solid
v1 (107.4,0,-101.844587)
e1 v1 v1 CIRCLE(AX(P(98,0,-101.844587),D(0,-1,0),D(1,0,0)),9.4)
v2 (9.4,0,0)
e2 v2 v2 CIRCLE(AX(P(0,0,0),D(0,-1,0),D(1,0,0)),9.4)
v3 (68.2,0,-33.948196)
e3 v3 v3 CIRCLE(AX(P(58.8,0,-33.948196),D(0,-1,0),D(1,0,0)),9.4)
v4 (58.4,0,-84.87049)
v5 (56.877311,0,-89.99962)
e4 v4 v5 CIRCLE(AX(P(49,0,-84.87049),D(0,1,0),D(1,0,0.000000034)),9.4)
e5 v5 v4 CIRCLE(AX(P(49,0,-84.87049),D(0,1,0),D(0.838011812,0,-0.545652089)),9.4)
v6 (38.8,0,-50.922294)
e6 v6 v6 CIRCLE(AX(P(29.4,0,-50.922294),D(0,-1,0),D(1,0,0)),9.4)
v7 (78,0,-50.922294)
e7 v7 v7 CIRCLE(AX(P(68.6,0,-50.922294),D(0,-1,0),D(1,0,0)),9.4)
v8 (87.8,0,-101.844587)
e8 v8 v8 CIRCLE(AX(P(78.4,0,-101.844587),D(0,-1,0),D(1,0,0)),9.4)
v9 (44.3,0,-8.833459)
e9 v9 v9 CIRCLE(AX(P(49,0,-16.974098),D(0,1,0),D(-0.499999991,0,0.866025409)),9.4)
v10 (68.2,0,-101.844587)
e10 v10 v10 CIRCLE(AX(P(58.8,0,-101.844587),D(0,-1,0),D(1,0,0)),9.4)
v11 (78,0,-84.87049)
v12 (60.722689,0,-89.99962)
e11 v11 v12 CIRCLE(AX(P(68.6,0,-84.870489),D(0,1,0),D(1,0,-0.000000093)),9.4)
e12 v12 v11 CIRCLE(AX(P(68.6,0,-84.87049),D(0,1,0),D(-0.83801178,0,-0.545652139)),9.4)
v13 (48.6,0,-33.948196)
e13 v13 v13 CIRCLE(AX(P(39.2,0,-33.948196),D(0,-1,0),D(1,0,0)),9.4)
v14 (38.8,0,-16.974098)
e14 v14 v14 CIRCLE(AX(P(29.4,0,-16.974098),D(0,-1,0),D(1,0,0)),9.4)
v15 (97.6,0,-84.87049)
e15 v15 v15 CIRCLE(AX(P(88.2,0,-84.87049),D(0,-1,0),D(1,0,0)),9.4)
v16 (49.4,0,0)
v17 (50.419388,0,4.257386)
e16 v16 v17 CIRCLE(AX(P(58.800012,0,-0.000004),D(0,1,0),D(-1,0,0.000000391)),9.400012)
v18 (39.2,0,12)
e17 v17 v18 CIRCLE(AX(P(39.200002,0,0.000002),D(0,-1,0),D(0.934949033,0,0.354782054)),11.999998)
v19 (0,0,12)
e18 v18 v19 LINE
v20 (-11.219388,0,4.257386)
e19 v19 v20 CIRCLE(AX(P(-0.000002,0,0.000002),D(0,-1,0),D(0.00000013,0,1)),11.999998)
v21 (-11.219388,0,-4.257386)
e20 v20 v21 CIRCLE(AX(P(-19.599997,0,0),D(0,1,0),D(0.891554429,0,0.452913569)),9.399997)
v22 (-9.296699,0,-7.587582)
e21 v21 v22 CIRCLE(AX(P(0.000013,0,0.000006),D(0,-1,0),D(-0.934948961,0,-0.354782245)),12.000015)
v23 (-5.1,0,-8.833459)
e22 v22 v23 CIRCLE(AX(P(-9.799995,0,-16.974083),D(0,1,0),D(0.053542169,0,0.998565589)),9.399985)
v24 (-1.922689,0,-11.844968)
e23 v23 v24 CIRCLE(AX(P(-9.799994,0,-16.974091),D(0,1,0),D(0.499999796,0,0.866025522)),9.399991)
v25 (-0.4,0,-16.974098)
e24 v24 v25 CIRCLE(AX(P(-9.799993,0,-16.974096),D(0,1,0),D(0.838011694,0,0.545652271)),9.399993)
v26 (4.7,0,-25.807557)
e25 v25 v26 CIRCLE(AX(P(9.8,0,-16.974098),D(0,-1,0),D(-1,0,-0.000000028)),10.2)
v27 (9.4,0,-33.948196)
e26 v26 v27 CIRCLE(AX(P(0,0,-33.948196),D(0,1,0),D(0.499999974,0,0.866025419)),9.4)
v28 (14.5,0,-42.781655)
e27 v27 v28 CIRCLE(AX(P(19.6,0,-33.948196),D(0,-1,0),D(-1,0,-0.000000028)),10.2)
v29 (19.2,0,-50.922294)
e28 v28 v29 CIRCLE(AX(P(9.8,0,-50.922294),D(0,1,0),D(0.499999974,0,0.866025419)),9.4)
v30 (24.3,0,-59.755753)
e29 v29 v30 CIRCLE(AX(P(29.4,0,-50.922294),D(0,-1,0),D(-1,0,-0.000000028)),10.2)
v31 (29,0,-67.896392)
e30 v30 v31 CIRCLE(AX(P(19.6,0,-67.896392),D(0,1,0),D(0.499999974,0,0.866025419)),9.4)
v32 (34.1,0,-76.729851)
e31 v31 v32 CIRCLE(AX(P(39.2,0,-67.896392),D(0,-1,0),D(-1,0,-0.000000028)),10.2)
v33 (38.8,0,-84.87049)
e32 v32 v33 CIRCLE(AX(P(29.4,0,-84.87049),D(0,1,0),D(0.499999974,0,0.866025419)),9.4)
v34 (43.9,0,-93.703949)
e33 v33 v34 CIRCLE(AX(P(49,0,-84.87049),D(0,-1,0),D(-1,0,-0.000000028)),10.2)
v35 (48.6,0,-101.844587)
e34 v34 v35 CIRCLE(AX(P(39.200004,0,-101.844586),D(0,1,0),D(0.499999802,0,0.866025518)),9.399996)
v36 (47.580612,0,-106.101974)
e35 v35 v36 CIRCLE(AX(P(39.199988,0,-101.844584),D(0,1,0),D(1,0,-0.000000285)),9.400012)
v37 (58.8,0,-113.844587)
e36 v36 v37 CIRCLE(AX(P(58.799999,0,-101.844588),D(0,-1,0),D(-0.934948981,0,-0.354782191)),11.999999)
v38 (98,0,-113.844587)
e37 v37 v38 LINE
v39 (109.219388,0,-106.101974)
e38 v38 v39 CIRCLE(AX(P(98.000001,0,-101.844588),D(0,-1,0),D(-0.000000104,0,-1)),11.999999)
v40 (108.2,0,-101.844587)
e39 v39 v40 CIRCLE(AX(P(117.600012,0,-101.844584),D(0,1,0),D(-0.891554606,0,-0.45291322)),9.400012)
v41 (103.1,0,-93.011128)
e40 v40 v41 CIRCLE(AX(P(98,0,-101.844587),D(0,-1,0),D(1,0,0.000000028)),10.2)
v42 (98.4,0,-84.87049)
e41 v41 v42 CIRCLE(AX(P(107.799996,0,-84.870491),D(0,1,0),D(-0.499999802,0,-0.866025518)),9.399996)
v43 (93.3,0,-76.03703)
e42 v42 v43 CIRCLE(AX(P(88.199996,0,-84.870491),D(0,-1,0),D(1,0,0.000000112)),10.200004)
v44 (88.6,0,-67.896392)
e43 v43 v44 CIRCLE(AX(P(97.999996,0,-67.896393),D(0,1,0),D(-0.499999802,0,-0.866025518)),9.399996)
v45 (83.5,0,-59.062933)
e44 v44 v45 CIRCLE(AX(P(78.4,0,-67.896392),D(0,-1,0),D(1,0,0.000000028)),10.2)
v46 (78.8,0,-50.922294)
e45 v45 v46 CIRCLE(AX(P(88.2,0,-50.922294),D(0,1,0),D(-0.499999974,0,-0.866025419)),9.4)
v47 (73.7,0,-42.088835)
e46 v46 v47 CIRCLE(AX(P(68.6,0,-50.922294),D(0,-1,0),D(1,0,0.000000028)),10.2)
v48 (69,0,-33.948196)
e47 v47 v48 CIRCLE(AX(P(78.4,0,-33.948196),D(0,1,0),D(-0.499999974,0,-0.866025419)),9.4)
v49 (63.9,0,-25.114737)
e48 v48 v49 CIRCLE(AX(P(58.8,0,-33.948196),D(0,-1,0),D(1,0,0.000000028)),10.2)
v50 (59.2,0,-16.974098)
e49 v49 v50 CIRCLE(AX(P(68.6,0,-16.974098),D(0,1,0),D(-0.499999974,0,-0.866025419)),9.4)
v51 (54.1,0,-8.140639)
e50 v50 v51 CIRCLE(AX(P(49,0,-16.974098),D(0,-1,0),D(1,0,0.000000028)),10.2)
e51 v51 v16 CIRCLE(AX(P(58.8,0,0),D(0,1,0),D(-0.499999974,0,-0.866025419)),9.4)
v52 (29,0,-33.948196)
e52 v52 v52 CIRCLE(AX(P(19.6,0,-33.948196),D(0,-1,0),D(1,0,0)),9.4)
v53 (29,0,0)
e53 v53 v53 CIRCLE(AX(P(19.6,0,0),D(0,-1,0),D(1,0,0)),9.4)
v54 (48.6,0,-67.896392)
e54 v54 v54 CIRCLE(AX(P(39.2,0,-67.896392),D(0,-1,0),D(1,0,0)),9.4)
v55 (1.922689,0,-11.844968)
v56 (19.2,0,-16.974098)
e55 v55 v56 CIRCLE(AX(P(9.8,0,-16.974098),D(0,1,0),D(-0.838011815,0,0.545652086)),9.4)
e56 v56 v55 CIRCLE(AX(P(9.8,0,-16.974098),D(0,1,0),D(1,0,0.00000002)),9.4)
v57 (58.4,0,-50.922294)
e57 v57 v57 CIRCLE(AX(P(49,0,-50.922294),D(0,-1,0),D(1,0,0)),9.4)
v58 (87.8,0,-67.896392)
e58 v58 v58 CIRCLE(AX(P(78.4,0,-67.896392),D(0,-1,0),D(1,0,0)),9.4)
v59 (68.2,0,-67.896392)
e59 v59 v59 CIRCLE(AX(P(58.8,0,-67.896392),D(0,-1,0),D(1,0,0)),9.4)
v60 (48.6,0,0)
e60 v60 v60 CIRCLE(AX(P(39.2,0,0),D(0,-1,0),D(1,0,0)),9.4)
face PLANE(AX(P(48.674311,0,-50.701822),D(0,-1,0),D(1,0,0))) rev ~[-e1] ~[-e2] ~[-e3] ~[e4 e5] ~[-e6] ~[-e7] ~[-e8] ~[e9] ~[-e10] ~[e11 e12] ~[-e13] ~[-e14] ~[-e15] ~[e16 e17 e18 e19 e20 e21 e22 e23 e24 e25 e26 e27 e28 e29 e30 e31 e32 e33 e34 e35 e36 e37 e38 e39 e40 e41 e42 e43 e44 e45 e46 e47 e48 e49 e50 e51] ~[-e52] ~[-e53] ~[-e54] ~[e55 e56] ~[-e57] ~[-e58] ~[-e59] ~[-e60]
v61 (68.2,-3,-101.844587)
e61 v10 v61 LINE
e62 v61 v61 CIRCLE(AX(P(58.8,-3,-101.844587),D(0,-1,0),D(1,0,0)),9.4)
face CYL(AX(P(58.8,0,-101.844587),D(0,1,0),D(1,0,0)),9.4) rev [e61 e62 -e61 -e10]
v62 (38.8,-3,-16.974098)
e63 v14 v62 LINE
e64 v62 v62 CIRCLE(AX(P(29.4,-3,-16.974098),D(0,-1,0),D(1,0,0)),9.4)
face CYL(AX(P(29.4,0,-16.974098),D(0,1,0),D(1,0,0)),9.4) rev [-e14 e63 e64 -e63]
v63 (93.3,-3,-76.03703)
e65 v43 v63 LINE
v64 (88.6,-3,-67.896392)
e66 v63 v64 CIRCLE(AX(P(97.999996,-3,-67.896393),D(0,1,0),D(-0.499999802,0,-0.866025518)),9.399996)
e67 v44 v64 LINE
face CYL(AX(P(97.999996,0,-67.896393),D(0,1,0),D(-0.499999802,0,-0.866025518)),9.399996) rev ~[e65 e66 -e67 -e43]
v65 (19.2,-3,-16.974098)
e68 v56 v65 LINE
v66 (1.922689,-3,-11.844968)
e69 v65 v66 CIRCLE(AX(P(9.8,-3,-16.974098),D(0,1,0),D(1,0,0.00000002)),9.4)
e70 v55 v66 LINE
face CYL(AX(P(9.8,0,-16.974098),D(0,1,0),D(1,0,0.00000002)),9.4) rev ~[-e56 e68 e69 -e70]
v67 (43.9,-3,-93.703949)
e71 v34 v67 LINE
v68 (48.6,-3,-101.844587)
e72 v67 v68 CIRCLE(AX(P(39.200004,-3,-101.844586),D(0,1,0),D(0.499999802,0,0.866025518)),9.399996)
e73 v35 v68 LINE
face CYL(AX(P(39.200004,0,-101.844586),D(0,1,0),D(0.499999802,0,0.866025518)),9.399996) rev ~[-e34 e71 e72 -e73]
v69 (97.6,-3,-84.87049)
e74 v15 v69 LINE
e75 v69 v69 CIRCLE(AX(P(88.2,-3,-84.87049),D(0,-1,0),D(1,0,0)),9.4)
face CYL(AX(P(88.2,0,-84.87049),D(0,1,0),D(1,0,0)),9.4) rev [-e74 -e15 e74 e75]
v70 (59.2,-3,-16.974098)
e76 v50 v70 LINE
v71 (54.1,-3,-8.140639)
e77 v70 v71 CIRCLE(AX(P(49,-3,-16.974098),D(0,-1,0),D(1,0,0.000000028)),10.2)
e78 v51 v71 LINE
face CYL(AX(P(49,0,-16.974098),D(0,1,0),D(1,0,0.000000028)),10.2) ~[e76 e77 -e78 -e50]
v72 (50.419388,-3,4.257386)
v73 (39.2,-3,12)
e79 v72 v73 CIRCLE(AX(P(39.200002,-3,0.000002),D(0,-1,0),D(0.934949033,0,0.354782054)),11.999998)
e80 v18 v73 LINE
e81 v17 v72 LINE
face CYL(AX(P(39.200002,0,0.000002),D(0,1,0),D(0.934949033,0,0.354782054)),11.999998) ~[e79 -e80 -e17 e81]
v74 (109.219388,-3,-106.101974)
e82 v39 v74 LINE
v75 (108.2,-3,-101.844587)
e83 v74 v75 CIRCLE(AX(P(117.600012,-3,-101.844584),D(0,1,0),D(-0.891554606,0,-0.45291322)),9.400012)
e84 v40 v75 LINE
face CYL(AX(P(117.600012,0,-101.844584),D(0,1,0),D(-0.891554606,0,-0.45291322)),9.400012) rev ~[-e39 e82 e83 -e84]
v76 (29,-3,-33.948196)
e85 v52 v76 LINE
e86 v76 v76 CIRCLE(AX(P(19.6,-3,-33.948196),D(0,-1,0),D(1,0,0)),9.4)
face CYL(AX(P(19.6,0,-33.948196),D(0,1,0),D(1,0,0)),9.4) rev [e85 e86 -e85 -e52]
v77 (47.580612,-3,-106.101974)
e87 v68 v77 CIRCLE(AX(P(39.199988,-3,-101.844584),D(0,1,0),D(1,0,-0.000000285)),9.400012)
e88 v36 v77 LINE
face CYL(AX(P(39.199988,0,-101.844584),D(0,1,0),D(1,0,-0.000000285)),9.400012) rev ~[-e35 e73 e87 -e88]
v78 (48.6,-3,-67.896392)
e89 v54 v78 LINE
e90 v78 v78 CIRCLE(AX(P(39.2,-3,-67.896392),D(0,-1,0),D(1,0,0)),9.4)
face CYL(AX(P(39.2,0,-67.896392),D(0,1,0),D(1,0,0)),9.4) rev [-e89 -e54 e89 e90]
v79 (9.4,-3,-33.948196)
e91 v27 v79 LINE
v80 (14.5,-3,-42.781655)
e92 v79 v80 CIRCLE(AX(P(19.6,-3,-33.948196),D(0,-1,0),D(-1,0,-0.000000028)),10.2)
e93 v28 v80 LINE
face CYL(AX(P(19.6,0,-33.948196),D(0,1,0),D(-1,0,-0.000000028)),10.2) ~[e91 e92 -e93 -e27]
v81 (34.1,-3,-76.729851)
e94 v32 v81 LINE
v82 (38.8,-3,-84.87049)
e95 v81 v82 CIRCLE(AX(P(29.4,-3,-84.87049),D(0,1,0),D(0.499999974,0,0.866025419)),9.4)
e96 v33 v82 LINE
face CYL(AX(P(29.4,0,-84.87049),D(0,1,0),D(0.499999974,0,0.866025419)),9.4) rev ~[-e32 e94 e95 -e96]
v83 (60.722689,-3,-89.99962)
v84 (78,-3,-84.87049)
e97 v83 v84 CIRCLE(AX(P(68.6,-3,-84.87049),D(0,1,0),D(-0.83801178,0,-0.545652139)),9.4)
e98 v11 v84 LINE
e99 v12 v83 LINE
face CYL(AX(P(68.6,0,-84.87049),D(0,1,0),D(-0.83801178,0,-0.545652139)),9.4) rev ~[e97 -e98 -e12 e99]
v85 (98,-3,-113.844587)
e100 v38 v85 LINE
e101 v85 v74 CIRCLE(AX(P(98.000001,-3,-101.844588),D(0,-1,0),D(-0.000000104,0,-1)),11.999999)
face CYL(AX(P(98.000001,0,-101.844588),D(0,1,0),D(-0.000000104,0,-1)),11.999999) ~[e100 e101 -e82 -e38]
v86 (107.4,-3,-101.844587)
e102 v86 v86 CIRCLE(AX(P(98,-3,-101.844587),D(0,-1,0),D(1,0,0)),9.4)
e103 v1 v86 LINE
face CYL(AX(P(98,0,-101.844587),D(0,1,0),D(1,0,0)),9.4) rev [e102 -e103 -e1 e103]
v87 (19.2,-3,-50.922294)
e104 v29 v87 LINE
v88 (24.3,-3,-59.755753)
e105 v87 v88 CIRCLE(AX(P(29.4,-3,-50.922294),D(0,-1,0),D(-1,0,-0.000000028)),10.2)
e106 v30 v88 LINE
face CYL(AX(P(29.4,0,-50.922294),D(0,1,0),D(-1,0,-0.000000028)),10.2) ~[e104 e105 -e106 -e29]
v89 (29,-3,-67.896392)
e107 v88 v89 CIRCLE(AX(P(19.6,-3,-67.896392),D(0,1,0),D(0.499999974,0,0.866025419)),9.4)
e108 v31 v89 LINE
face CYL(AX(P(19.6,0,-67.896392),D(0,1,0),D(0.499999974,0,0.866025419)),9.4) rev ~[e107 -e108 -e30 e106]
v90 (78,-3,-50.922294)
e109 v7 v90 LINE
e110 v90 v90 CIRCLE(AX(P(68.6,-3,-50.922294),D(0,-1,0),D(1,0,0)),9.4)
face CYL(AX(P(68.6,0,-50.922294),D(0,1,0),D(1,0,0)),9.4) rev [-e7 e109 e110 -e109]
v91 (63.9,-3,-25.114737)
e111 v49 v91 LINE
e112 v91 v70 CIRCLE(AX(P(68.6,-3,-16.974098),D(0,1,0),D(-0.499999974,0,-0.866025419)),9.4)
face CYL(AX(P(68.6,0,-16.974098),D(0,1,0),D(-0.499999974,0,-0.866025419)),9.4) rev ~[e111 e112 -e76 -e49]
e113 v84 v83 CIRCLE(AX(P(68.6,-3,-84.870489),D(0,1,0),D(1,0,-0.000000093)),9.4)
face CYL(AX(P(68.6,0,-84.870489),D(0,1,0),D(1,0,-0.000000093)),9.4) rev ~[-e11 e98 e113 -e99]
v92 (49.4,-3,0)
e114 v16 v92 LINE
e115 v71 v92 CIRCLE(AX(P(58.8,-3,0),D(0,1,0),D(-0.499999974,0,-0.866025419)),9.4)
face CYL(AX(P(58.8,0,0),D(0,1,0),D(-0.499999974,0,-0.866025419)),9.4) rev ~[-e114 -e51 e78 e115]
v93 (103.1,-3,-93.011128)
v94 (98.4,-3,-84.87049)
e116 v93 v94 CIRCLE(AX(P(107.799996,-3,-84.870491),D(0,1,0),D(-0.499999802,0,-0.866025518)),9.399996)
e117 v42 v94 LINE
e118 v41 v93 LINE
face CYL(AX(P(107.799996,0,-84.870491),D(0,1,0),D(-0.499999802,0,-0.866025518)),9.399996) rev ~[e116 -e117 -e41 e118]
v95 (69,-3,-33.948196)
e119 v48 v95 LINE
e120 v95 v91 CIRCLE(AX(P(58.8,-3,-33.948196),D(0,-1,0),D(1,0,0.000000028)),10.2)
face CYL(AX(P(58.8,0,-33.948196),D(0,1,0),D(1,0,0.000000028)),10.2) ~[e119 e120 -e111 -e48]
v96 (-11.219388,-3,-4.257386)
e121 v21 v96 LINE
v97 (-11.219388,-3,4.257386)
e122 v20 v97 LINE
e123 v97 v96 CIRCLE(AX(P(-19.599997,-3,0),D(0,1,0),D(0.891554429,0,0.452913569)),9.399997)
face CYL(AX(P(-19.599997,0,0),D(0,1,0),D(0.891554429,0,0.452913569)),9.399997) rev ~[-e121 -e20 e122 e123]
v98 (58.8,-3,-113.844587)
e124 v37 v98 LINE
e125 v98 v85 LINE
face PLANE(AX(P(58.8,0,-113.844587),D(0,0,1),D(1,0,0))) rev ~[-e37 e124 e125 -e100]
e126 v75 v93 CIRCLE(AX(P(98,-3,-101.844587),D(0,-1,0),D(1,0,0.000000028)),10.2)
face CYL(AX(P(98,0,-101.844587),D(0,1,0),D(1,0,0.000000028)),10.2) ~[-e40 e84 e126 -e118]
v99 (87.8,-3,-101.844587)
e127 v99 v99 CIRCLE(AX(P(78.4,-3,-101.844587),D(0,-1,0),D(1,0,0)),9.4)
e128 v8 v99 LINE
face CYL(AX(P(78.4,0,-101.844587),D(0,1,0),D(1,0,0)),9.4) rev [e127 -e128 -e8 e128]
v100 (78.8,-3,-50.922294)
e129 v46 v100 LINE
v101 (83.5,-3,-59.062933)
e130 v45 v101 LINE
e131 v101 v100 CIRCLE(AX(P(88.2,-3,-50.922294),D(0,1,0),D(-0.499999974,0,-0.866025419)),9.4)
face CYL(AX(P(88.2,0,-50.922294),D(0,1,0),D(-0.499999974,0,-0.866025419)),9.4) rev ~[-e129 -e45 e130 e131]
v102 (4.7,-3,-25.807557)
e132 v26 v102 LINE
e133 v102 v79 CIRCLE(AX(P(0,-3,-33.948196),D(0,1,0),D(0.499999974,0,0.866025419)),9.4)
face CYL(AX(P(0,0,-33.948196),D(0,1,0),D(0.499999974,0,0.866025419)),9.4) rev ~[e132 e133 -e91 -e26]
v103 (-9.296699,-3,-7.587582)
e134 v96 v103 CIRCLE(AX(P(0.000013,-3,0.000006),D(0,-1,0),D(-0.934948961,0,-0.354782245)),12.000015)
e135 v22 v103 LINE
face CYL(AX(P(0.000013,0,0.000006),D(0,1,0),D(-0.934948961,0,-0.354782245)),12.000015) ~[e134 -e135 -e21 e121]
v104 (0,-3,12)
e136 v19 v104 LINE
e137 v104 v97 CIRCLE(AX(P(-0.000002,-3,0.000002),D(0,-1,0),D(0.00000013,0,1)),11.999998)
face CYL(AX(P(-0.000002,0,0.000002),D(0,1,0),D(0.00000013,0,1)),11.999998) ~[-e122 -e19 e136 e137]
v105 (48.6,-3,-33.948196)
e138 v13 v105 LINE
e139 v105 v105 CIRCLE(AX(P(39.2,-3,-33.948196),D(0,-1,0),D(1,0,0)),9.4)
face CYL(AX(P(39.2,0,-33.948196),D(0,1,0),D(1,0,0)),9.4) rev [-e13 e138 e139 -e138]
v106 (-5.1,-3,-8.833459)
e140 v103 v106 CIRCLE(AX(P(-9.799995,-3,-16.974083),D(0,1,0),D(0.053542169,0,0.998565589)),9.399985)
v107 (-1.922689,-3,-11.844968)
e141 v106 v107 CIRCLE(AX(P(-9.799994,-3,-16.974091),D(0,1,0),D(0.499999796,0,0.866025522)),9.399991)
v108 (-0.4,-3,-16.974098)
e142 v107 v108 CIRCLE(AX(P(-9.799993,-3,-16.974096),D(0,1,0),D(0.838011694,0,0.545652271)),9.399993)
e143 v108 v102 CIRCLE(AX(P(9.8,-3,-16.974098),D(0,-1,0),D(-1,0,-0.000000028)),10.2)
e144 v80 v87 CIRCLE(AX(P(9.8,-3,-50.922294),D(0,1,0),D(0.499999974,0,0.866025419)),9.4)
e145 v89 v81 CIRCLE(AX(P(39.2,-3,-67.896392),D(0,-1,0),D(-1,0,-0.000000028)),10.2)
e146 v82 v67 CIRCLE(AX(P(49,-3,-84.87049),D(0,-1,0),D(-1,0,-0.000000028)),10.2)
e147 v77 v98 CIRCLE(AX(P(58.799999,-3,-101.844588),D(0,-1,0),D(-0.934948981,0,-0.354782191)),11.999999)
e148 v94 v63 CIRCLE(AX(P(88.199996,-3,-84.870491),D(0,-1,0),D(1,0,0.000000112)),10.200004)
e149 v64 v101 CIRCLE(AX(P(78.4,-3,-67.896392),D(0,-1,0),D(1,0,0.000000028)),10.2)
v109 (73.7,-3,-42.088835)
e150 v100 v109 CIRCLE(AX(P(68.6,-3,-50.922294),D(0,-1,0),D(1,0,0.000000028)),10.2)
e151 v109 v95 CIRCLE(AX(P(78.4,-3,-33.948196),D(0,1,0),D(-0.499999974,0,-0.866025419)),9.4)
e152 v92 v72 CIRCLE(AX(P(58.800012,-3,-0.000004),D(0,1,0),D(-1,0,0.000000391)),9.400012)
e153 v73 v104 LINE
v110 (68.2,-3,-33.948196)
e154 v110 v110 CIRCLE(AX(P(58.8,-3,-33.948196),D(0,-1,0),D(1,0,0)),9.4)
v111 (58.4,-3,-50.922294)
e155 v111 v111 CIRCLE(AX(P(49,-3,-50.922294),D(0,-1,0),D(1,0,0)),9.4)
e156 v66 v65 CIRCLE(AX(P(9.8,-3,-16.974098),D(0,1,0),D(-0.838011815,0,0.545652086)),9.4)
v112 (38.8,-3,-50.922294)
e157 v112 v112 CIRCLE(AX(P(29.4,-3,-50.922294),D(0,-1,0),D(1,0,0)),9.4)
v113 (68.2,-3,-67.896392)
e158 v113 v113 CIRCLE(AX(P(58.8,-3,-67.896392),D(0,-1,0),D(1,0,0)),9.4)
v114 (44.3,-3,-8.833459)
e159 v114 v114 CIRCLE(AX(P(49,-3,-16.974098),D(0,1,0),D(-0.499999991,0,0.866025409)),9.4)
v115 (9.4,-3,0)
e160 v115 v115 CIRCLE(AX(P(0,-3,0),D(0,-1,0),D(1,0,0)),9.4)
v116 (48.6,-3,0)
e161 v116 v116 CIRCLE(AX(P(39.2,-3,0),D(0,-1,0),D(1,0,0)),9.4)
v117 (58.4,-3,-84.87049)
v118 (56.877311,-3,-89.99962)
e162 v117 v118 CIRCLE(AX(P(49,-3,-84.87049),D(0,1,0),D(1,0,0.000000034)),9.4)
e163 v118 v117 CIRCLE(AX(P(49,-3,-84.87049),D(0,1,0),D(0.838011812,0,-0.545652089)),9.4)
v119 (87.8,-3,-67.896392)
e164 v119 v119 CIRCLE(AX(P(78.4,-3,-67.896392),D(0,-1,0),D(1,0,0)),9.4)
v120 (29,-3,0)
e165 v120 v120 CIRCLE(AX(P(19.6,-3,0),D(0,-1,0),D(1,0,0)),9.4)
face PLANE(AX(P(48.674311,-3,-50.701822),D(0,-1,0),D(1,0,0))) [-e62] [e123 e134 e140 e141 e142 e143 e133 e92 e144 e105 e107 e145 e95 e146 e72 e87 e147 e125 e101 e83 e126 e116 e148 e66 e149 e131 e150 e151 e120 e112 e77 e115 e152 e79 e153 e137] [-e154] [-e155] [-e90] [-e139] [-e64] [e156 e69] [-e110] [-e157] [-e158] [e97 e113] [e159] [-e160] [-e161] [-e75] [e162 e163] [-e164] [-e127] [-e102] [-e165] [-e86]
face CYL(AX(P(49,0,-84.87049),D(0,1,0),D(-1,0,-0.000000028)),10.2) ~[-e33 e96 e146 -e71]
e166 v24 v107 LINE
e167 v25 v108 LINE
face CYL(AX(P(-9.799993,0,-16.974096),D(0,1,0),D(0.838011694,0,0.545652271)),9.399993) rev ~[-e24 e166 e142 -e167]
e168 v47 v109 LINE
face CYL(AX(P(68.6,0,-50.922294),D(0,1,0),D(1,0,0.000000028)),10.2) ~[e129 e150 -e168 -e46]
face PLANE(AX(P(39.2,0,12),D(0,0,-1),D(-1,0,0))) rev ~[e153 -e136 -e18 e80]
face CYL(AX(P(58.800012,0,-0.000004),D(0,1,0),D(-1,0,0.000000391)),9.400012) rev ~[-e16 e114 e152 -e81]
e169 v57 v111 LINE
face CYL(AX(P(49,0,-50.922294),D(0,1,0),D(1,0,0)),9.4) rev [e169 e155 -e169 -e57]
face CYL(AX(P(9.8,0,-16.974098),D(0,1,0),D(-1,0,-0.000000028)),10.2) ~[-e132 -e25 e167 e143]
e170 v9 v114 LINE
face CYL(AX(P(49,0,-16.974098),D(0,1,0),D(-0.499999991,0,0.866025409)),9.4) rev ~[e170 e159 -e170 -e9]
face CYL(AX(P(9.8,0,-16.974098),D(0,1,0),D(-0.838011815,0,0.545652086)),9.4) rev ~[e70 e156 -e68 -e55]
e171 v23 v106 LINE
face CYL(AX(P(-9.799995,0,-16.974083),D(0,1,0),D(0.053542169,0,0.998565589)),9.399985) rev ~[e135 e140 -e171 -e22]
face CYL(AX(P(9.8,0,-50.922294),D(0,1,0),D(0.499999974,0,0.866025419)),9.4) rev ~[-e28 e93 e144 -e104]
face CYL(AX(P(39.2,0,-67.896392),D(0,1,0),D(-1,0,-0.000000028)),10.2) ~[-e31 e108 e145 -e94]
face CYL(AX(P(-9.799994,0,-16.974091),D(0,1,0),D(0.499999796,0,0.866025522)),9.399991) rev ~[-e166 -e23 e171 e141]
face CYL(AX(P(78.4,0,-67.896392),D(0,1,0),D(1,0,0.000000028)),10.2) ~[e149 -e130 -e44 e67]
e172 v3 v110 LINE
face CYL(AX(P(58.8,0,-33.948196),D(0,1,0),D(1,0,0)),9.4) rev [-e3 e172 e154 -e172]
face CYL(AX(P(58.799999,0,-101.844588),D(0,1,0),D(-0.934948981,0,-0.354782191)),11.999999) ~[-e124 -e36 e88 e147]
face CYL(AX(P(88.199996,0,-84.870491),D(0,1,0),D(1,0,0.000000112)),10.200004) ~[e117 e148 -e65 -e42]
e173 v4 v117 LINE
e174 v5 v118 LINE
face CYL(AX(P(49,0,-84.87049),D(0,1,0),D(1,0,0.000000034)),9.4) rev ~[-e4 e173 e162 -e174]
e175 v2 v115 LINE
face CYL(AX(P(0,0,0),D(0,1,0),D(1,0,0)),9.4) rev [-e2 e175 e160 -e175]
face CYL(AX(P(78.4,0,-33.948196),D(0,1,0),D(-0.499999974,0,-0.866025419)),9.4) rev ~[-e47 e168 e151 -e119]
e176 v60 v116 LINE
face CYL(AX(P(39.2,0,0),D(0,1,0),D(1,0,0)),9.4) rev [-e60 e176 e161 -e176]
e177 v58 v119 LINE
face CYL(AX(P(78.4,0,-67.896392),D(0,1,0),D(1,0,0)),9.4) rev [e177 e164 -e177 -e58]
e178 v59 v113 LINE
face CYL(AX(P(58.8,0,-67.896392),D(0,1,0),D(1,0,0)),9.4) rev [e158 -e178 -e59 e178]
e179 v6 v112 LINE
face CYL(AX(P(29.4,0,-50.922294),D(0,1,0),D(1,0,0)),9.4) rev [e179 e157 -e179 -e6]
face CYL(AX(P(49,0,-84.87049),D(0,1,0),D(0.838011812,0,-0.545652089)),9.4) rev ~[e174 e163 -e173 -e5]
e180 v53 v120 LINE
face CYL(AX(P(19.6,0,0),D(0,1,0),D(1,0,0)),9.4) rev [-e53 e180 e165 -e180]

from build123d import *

# Parameters (mm, degrees)
F0_R     = 9.4
F1_DEPTH = 3


with BuildPart() as f1:
    # F0 (on Front) → F1 (new body)
    with BuildSketch(Plane.XZ):
        with BuildLine():
            ThreePointArc((-5.1, -8.833459), (-3.333588, -10.15167), (-1.922689, -11.844968))
            ThreePointArc((-1.922689, -11.844968), (-0.788709, -14.298908), (-0.4, -16.974098))
            ThreePointArc((-0.4, -16.974098), (0.966541, -22.074098), (4.7, -25.807557))
            ThreePointArc((4.7, -25.807557), (8.140639, -29.248196), (9.4, -33.948196))
            ThreePointArc((9.4, -33.948196), (10.766541, -39.048196), (14.5, -42.781655))
            ThreePointArc((14.5, -42.781655), (17.940639, -46.222294), (19.2, -50.922294))
            ThreePointArc((19.2, -50.922294), (20.566541, -56.022294), (24.3, -59.755753))
            ThreePointArc((24.3, -59.755753), (27.740639, -63.196392), (29, -67.896392))
            ThreePointArc((29, -67.896392), (30.366541, -72.996392), (34.1, -76.729851))
            ThreePointArc((34.1, -76.729851), (37.540639, -80.17049), (38.8, -84.87049))
            ThreePointArc((38.8, -84.87049), (40.166541, -89.97049), (43.9, -93.703949))
            ThreePointArc((43.9, -93.703949), (47.340639, -97.144587), (48.6, -101.844587))
            ThreePointArc((48.6, -101.844587), (48.341601, -104.033451), (47.580612, -106.101974))
            ThreePointArc((47.580612, -106.101974), (51.984159, -111.72104), (58.8, -113.844587))
            Line((58.8, -113.844587), (98, -113.844587))
            ThreePointArc((98, -113.844587), (104.815841, -111.72104), (109.219388, -106.101974))
            ThreePointArc((109.219388, -106.101974), (108.458399, -104.033451), (108.2, -101.844587))
            ThreePointArc((108.2, -101.844587), (106.833459, -96.744587), (103.1, -93.011128))
            ThreePointArc((103.1, -93.011128), (99.659361, -89.57049), (98.4, -84.87049))
            ThreePointArc((98.4, -84.87049), (97.033459, -79.77049), (93.3, -76.03703))
            ThreePointArc((93.3, -76.03703), (89.859361, -72.596392), (88.6, -67.896392))
            ThreePointArc((88.6, -67.896392), (87.233459, -62.796392), (83.5, -59.062933))
            ThreePointArc((83.5, -59.062933), (80.059361, -55.622294), (78.8, -50.922294))
            ThreePointArc((78.8, -50.922294), (77.433459, -45.822294), (73.7, -42.088835))
            ThreePointArc((73.7, -42.088835), (70.259361, -38.648196), (69, -33.948196))
            ThreePointArc((69, -33.948196), (67.633459, -28.848196), (63.9, -25.114737))
            ThreePointArc((63.9, -25.114737), (60.459361, -21.674098), (59.2, -16.974098))
            ThreePointArc((59.2, -16.974098), (57.833459, -11.874098), (54.1, -8.140639))
            ThreePointArc((54.1, -8.140639), (50.659361, -4.7), (49.4, 0))
            ThreePointArc((49.4, 0), (49.658399, 2.188863), (50.419388, 4.257386))
            ThreePointArc((50.419388, 4.257386), (46.015841, 9.876453), (39.2, 12))
            Line((39.2, 12), (0, 12))
            ThreePointArc((0, 12), (-6.815841, 9.876453), (-11.219388, 4.257386))
            ThreePointArc((-11.219388, 4.257386), (-10.2, 0), (-11.219388, -4.257386))
            ThreePointArc((-11.219388, -4.257386), (-10.392305, -6), (-9.296699, -7.587582))
            ThreePointArc((-9.296699, -7.587582), (-7.12481, -7.962807), (-5.1, -8.833459))
        make_face()
        with BuildLine():
            ThreePointArc((56.877311, -89.99962), (39.988709, -82.1953), (58.4, -84.87049))
            ThreePointArc((58.4, -84.87049), (58.011291, -87.545679), (56.877311, -89.99962))
        make_face(mode=Mode.SUBTRACT)
        with Locations((39.2, -67.896392)):
            Circle(F0_R, mode=Mode.SUBTRACT)
        with Locations((58.8, -101.844587)):
            Circle(F0_R, mode=Mode.SUBTRACT)
        with Locations((78.4, -101.844587)):
            Circle(F0_R, mode=Mode.SUBTRACT)
        with BuildLine():
            ThreePointArc((78, -84.87049), (71.27519, -93.88178), (60.722689, -89.99962))
            ThreePointArc((60.722689, -89.99962), (65.92481, -75.859199), (78, -84.87049))
        make_face(mode=Mode.SUBTRACT)
        with Locations((98, -101.844587)):
            Circle(F0_R, mode=Mode.SUBTRACT)
        with Locations((88.2, -84.87049)):
            Circle(F0_R, mode=Mode.SUBTRACT)
        with Locations((58.8, -67.896392)):
            Circle(F0_R, mode=Mode.SUBTRACT)
        with Locations((78.4, -67.896392)):
            Circle(F0_R, mode=Mode.SUBTRACT)
        with Locations((29.4, -50.922294)):
            Circle(F0_R, mode=Mode.SUBTRACT)
        with Locations((49, -50.922294)):
            Circle(F0_R, mode=Mode.SUBTRACT)
        with Locations((19.6, -33.948196)):
            Circle(F0_R, mode=Mode.SUBTRACT)
        with Locations((39.2, -33.948196)):
            Circle(F0_R, mode=Mode.SUBTRACT)
        with BuildLine():
            ThreePointArc((1.922689, -11.844968), (12.47519, -7.962807), (19.2, -16.974098))
            ThreePointArc((19.2, -16.974098), (7.12481, -25.985389), (1.922689, -11.844968))
        make_face(mode=Mode.SUBTRACT)
        Circle(F0_R, mode=Mode.SUBTRACT)
        with Locations((29.4, -16.974098)):
            Circle(F0_R, mode=Mode.SUBTRACT)
        with BuildLine():
            ThreePointArc((53.7, -25.114737), (40.859361, -21.674098), (44.3, -8.833459))
            ThreePointArc((44.3, -8.833459), (57.140639, -12.274098), (53.7, -25.114737))
        make_face(mode=Mode.SUBTRACT)
        with Locations((19.6, 0)):
            Circle(F0_R, mode=Mode.SUBTRACT)
        with Locations((39.2, 0)):
            Circle(F0_R, mode=Mode.SUBTRACT)
        with Locations((68.6, -50.922294)):
            Circle(F0_R, mode=Mode.SUBTRACT)
        with Locations((58.8, -33.948196)):
            Circle(F0_R, mode=Mode.SUBTRACT)
    extrude(amount=F1_DEPTH)


solid = f1.part
